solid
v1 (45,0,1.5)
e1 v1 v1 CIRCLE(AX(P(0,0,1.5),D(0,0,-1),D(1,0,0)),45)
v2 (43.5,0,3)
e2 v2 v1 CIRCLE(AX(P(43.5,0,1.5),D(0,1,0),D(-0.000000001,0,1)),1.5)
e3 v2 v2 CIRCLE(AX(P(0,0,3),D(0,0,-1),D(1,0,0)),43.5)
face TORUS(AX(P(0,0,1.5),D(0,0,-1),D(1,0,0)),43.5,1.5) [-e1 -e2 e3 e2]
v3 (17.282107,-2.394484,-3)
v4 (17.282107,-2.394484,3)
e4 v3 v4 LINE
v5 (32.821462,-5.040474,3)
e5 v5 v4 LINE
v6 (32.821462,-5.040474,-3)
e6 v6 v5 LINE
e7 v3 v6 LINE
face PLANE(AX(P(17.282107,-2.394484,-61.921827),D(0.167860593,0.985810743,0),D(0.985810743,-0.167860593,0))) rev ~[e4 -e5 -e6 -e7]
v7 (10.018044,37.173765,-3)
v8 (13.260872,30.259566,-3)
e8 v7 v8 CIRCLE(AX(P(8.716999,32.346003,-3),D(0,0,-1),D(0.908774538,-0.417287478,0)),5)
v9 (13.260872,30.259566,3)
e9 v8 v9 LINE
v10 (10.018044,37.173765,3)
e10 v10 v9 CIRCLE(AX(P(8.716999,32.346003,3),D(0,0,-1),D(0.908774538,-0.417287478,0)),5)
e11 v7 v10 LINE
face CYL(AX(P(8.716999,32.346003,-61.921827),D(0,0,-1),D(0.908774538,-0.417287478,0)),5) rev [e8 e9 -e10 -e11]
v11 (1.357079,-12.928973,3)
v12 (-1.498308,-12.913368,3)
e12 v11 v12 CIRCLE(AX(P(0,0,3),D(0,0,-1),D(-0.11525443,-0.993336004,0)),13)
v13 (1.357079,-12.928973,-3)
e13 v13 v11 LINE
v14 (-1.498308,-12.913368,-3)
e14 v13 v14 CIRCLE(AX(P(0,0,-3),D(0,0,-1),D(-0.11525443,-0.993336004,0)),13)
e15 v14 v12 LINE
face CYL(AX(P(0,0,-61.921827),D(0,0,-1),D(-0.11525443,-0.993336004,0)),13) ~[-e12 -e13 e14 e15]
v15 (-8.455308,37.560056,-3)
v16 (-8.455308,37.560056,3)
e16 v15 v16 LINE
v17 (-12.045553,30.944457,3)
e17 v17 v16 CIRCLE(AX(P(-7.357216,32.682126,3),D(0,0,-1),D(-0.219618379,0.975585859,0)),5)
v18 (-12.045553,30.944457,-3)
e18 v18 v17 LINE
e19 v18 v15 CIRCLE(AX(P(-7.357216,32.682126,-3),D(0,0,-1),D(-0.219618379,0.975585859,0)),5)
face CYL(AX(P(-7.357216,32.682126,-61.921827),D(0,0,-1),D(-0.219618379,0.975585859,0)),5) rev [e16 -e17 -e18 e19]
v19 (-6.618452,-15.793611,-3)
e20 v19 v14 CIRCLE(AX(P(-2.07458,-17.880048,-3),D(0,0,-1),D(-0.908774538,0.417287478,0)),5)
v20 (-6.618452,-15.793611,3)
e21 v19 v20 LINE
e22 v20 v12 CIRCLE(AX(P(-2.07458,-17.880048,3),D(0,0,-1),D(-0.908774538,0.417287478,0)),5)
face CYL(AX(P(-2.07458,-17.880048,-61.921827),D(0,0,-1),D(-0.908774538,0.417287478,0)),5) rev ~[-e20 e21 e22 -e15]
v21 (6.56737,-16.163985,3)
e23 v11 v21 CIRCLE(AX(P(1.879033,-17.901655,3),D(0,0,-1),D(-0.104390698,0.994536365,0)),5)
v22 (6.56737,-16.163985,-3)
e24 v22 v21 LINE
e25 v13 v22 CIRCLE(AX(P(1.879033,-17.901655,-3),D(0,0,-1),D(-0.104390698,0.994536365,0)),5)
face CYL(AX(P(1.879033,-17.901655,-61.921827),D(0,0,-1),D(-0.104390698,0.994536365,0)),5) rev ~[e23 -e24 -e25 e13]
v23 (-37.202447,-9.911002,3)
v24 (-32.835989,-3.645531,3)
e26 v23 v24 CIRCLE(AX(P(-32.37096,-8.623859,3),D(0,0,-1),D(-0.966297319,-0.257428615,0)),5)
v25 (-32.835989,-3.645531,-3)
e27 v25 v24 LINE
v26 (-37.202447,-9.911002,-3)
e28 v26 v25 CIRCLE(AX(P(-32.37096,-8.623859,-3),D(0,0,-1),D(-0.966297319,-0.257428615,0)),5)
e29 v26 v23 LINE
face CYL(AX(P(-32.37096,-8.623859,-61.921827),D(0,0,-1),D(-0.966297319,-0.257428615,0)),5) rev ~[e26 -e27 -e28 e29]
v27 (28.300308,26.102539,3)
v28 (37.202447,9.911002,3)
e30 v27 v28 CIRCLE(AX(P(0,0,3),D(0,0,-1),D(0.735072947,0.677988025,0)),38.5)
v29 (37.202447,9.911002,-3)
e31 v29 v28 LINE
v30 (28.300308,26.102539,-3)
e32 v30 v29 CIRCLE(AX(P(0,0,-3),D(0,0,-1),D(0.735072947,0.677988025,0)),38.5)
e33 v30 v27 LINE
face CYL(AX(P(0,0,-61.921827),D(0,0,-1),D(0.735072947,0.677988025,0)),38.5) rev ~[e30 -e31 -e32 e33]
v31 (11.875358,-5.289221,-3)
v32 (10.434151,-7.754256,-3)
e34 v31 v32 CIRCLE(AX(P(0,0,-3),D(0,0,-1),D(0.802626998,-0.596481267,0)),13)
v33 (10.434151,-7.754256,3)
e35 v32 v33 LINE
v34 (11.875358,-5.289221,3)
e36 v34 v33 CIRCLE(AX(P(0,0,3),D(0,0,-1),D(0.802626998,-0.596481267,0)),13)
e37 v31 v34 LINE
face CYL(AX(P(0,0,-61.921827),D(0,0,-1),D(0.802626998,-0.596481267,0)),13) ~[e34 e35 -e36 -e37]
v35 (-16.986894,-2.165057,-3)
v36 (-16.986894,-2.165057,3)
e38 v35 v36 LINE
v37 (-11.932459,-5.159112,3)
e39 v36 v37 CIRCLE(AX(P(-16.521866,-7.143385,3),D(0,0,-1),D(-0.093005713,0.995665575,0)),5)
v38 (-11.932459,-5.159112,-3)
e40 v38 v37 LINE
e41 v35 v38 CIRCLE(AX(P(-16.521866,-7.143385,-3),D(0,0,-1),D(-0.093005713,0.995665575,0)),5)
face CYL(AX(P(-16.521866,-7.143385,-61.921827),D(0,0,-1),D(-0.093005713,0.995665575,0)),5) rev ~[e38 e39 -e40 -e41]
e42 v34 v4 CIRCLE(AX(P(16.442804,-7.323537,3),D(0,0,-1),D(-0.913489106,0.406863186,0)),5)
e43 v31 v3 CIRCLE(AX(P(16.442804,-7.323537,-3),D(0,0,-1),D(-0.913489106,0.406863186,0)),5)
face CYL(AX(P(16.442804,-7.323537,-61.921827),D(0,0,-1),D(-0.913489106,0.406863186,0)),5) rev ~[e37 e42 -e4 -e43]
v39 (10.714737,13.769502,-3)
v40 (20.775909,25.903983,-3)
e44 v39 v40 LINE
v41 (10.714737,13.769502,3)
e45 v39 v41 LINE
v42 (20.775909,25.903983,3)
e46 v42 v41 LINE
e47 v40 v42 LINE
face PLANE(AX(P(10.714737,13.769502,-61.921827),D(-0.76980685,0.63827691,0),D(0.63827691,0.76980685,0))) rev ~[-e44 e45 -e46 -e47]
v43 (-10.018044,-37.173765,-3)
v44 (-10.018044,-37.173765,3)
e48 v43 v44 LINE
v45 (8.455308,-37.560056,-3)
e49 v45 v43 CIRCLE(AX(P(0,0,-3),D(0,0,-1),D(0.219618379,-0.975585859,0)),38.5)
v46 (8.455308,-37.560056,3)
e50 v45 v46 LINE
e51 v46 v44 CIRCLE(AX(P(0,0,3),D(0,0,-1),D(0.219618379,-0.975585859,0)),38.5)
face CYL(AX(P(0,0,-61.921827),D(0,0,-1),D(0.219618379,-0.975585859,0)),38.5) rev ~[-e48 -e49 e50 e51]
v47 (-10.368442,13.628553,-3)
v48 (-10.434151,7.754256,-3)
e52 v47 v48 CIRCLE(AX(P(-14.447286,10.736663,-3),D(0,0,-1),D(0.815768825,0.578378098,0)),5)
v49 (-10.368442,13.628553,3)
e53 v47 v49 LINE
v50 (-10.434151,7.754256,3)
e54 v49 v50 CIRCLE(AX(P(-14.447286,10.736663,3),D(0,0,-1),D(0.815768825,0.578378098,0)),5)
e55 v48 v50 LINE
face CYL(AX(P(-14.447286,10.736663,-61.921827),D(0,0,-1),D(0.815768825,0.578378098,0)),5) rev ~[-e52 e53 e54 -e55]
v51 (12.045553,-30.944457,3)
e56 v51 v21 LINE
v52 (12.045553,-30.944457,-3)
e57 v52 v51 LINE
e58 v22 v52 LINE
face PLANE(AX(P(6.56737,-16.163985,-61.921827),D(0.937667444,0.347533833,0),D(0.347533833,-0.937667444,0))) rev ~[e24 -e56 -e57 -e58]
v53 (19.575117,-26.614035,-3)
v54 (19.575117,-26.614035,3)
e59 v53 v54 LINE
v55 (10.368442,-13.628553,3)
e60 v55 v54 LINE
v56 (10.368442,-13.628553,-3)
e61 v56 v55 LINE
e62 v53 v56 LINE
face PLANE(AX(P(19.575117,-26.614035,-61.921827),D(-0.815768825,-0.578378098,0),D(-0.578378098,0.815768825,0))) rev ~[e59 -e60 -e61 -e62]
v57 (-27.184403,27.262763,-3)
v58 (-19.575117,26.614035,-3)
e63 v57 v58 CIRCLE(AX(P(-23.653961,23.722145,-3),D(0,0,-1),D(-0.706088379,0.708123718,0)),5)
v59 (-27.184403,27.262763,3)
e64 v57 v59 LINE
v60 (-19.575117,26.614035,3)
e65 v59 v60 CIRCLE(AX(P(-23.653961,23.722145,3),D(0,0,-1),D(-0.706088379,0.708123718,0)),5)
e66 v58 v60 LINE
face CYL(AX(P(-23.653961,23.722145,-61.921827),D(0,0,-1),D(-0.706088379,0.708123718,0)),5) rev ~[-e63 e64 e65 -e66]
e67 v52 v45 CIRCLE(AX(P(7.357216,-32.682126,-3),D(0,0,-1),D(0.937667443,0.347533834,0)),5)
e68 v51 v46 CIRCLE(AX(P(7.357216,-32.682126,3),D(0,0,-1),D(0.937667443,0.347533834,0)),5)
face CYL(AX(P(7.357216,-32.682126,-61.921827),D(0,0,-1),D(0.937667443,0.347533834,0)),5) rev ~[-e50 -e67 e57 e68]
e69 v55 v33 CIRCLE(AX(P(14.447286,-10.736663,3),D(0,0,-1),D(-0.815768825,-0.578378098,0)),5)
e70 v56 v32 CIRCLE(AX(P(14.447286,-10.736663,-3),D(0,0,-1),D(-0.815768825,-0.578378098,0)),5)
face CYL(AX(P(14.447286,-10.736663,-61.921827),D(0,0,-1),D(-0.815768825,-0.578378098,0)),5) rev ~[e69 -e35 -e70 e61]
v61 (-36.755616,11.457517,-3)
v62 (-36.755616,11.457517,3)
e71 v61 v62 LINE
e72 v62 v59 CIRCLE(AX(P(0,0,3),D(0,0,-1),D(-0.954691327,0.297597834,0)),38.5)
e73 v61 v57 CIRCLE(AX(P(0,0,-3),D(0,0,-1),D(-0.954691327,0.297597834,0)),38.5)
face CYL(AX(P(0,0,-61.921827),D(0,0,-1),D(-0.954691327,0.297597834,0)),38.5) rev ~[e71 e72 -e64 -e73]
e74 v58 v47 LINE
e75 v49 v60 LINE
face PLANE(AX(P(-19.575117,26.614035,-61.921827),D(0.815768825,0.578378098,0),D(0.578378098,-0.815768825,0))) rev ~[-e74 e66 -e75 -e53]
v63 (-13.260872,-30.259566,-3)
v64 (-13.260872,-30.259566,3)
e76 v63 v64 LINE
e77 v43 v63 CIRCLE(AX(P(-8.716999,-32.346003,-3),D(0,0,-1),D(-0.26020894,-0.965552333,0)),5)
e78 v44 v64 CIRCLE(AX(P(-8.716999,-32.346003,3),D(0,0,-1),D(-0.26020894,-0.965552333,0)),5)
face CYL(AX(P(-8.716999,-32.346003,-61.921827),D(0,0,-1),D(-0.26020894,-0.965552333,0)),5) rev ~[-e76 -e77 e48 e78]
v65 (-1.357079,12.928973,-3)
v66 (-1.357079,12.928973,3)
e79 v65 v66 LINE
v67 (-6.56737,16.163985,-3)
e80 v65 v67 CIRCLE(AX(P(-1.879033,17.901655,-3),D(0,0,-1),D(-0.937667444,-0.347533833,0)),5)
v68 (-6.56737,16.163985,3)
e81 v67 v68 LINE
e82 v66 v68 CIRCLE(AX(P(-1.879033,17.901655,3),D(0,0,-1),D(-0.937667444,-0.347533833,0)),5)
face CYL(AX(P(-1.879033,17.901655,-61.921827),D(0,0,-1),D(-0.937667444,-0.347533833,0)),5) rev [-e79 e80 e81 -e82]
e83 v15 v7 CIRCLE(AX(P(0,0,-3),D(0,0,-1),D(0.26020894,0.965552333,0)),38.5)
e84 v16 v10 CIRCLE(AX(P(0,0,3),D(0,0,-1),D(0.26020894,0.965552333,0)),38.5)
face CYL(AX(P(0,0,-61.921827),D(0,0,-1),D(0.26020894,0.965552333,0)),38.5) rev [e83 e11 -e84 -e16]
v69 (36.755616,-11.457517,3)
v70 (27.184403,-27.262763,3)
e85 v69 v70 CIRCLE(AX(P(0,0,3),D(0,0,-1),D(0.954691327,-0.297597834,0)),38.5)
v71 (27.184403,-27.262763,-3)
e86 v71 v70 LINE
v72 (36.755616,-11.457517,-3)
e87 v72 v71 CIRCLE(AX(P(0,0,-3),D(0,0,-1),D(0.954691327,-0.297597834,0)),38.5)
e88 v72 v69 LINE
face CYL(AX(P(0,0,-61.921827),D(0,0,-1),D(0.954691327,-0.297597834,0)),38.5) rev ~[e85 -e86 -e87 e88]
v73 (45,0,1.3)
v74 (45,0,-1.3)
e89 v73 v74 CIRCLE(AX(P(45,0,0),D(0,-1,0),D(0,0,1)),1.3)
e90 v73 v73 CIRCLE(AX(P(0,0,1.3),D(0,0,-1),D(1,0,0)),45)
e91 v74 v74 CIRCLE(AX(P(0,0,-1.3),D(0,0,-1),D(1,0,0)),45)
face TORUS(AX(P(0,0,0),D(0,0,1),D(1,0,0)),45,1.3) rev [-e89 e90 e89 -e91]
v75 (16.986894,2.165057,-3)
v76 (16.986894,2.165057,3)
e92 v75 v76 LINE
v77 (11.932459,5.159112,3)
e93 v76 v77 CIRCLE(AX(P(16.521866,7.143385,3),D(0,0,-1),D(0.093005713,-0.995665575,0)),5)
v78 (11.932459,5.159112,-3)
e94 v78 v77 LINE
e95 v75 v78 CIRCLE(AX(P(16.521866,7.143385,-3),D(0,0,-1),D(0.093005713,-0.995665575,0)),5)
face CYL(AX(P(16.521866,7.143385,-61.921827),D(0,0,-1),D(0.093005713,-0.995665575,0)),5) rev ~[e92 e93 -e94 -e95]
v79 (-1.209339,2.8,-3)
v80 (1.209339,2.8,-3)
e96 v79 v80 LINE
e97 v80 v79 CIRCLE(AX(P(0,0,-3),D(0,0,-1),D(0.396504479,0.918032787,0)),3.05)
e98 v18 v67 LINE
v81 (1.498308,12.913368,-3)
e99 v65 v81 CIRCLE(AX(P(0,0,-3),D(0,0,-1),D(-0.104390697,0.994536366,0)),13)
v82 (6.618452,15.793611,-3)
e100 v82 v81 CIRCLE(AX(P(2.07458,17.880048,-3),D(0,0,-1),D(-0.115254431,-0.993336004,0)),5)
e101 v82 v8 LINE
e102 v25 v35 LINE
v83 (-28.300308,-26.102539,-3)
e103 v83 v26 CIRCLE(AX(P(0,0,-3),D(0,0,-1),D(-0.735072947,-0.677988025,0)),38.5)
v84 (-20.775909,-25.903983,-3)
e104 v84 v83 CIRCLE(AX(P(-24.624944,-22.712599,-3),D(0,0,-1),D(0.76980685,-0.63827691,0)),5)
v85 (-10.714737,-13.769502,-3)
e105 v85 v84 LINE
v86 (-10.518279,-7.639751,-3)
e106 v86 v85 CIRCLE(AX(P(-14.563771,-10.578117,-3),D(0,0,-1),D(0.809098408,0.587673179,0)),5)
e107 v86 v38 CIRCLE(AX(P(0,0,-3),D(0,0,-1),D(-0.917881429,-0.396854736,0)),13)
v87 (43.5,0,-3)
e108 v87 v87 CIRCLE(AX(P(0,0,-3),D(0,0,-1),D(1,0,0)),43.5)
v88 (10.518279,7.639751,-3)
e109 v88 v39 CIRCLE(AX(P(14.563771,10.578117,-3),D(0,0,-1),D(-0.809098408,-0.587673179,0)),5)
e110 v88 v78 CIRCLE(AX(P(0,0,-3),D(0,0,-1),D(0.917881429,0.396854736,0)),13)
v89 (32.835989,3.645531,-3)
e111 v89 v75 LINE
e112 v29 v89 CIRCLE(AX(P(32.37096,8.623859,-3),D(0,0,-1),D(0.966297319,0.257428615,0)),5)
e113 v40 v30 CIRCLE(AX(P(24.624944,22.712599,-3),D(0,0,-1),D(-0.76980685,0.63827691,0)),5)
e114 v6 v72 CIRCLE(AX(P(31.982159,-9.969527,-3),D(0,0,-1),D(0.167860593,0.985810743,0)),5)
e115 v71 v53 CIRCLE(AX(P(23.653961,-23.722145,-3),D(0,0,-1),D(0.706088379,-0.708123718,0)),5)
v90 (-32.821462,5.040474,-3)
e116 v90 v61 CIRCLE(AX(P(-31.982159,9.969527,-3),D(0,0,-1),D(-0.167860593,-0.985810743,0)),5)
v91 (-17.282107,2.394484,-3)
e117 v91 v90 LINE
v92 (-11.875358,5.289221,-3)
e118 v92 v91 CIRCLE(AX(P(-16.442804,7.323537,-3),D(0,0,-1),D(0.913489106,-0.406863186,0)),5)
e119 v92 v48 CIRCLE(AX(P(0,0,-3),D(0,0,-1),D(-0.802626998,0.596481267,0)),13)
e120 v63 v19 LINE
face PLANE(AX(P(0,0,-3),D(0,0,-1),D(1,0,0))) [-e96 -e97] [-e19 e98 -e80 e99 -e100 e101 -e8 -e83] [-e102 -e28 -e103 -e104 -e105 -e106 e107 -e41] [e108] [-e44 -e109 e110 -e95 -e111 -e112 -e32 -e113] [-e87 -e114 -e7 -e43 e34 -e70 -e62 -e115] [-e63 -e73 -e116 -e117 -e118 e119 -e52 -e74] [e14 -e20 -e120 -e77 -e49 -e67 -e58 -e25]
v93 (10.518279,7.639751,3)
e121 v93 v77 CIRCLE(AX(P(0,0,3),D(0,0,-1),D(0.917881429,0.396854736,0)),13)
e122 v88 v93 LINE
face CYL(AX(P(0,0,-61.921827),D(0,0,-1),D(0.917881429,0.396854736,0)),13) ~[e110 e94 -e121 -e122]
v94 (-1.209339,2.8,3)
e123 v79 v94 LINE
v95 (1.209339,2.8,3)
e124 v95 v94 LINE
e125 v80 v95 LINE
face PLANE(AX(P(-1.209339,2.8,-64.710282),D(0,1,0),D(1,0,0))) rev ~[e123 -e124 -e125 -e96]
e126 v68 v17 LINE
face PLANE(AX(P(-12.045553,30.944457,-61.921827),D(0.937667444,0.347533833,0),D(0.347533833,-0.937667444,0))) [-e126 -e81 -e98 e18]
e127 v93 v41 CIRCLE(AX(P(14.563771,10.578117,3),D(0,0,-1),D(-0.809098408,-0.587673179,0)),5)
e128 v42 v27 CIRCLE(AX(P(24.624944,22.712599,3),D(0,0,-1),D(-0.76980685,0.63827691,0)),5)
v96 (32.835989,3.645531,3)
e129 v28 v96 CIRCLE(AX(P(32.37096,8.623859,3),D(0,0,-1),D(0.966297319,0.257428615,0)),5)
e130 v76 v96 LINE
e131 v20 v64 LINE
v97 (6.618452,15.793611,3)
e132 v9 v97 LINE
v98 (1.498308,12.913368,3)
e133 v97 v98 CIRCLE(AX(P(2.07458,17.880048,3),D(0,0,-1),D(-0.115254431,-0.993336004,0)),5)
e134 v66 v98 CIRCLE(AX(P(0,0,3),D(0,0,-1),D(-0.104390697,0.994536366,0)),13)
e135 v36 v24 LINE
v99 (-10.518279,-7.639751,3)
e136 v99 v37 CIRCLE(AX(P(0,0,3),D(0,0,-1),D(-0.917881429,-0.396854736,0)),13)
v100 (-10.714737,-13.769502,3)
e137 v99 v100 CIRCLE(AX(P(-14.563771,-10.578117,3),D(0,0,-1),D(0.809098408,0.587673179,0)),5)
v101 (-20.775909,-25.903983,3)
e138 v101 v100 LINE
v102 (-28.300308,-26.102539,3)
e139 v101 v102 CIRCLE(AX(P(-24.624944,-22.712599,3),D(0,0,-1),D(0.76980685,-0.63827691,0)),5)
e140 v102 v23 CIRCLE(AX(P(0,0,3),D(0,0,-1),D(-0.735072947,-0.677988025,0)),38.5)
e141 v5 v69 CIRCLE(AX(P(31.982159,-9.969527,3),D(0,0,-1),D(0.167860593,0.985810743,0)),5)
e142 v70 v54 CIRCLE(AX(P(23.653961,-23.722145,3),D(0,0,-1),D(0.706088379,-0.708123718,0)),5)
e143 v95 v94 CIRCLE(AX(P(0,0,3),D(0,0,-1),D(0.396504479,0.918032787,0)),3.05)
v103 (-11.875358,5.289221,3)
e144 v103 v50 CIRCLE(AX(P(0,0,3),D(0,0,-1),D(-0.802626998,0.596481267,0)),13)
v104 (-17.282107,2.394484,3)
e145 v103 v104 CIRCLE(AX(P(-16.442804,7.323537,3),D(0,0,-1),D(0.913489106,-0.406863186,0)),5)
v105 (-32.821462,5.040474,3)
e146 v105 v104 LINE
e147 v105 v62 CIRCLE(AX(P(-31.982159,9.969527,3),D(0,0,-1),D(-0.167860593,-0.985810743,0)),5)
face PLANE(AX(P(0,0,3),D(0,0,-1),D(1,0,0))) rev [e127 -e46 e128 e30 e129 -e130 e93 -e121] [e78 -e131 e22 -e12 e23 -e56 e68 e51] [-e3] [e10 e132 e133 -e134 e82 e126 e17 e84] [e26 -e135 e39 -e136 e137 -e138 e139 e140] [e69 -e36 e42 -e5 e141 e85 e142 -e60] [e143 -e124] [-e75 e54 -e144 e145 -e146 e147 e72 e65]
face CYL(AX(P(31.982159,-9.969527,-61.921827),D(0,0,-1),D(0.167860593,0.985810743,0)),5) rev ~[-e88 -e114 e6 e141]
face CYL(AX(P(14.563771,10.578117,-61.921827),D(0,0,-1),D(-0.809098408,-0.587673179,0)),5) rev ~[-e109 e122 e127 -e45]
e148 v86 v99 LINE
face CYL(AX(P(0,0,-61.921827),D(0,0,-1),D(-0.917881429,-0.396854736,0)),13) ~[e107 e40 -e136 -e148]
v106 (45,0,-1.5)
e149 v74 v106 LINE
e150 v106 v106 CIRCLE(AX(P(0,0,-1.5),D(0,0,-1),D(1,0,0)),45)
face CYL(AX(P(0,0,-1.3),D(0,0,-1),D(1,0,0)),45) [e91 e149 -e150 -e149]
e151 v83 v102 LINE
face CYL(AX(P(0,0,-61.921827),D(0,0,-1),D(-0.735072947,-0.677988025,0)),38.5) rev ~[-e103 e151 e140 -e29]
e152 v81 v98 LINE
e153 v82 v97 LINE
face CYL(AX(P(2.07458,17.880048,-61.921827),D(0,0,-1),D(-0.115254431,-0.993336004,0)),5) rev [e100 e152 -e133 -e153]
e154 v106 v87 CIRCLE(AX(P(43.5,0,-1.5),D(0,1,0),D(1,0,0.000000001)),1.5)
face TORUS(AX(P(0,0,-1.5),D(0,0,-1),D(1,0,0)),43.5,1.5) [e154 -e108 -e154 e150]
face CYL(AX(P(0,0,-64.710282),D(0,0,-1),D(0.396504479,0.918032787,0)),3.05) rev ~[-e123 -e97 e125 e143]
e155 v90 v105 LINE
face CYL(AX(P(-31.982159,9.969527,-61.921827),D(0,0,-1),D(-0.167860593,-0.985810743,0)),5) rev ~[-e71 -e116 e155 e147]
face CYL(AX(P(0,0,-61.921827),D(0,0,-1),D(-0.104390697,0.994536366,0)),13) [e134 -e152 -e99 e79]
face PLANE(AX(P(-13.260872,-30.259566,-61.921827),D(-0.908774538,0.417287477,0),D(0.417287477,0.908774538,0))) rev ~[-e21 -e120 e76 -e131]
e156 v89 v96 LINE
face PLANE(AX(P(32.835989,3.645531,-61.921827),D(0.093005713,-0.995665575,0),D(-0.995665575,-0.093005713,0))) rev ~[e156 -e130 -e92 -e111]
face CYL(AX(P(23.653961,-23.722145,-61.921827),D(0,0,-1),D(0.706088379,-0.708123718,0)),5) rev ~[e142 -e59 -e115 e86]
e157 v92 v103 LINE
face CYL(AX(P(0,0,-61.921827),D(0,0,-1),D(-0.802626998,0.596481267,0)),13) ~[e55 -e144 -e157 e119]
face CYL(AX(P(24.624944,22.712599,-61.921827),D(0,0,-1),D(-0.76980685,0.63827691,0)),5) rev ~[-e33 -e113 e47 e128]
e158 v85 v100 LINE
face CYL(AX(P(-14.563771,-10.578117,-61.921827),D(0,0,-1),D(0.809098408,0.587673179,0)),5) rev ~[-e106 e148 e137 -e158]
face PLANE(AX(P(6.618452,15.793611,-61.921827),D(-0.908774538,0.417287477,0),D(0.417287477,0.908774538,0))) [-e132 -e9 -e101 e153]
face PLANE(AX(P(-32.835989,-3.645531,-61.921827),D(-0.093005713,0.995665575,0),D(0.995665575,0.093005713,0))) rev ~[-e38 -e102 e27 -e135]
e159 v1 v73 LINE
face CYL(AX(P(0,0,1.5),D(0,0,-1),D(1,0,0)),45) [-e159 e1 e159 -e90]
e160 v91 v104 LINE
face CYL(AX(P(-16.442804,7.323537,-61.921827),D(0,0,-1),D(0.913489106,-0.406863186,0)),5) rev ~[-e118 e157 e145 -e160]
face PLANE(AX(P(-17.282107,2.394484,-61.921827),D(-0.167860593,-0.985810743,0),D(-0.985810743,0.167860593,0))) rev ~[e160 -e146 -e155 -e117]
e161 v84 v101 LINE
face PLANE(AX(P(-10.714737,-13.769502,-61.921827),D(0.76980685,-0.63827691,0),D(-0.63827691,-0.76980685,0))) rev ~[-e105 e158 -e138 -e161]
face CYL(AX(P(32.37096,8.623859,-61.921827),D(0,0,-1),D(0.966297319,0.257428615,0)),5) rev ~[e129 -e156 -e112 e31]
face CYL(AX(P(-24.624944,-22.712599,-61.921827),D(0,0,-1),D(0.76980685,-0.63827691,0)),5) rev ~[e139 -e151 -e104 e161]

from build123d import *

# Parameters (mm, degrees)
ENL_V_MAT_EXTRU_3_DEPTH      = 64.710281815
ENL_V_MAT_EXTRU_3_DEPTH_BACK = 64.710281815
ENL_V_MAT_EXTRU_8_DEPTH      = 64.921827328
ENL_V_MAT_EXTRU_8_DEPTH_BACK = 64.921827328


with BuildPart() as part:
    # Esquisse2 → Révolution1 (revolve)
    with BuildSketch(Plane(origin=(0, 0, 0), x_dir=(0, 0, -1), z_dir=(1, 0, 0)), mode=Mode.PRIVATE) as r_volution1_sk:
        with BuildLine():
            Line((3, 0), (-3, 0))
            Line((-3, 0), (-3, 43.5))
            ThreePointArc((-3, 43.5), (-2.560660172, 44.560660172), (-1.5, 45))
            Line((-1.5, 45), (-1.3, 45))
            ThreePointArc((-1.3, 45), (0, 43.7), (1.3, 45))
            Line((1.3, 45), (1.5, 45))
            ThreePointArc((1.5, 45), (2.560660172, 44.560660172), (3, 43.5))
            Line((3, 43.5), (3, 0))
        make_face()
    revolve(r_volution1_sk.sketch.rotate(Axis((0, 0, 77.254476924), (0, 0, -1)), 90), axis=Axis((0, 0, 77.254476924), (0, 0, -1)))

    # Esquisse3 → Enlèv. mat.-Extru.3 (cut, two sides: drawn at the far end of the back side and taken through both)
    with BuildSketch(Plane.XY.offset(-ENL_V_MAT_EXTRU_3_DEPTH_BACK)):
        with BuildLine():
            Line((-1.209338662, 2.8), (1.209338662, 2.8))
            ThreePointArc((1.209338662, 2.8), (0, -3.05), (-1.209338662, 2.8))
        make_face()
    extrude(amount=ENL_V_MAT_EXTRU_3_DEPTH + ENL_V_MAT_EXTRU_3_DEPTH_BACK, mode=Mode.SUBTRACT)

    # Esquisse5 → Enlèv. mat.-Extru.8 (cut, two sides: drawn at the far end of the back side and taken through both)
    with BuildSketch(Plane.XY.offset(3).offset(-ENL_V_MAT_EXTRU_8_DEPTH_BACK)):
        with BuildLine():
            ThreePointArc((-10.434150973, 7.754256475), (-11.222640125, 6.561428855), (-11.875358384, 5.289221422))
            ThreePointArc((-11.875358384, 5.289221422), (-14.082795768, 2.915548976), (-17.282106883, 2.394483639))
            Line((-17.282106883, 2.394483639), (-32.821462414, 5.040473711))
            ThreePointArc((-32.821462414, 5.040473711), (-36.244832016, 7.356172767), (-36.755616081, 11.457516594))
            ThreePointArc((-36.755616081, 11.457516594), (-32.932247903, 19.942844532), (-27.184402598, 27.262763165))
            ThreePointArc((-27.184402598, 27.262763165), (-23.229227503, 28.704072082), (-19.575116576, 26.61403506))
            Line((-19.575116576, 26.61403506), (-10.368441836, 13.6285533))
            ThreePointArc((-10.368441836, 13.6285533), (-9.447598742, 10.680736947), (-10.434150973, 7.754256475))
        make_face()
        with BuildLine():
            ThreePointArc((-11.932458581, -5.159111572), (-11.293684136, -6.438377019), (-10.51827931, -7.639751328))
            ThreePointArc((-10.51827931, -7.639751328), (-9.566337363, -10.738284404), (-10.714737101, -13.769501772))
            Line((-10.714737101, -13.769501772), (-20.775909487, -25.903983384))
            ThreePointArc((-20.775909487, -25.903983384), (-24.493048499, -27.710858898), (-28.300308475, -26.102538961))
            ThreePointArc((-28.300308475, -26.102538961), (-33.73713394, -18.548741022), (-37.202446777, -9.911001654))
            ThreePointArc((-37.202446777, -9.911001654), (-36.473069367, -5.765065087), (-32.835988747, -3.645530707))
            Line((-32.835988747, -3.645530707), (-16.986894292, -2.165057378))
            ThreePointArc((-16.986894292, -2.165057378), (-13.973588898, -2.841492042), (-11.932458581, -5.159111572))
        make_face()
        with BuildLine():
            ThreePointArc((-1.498307609, -12.913368047), (-0.071044011, -12.999805873), (1.357079074, -12.928972751))
            ThreePointArc((1.357079074, -12.928972751), (4.516458405, -13.65383338), (6.567369781, -16.163985411))
            Line((6.567369781, -16.163985411), (12.045552926, -30.944457095))
            ThreePointArc((12.045552926, -30.944457095), (11.751783517, -35.067031665), (8.455307606, -37.560055555))
            ThreePointArc((8.455307606, -37.560055555), (-0.804886037, -38.491585554), (-10.018044179, -37.173764819))
            ThreePointArc((-10.018044179, -37.173764819), (-13.243841863, -34.469137169), (-13.260872171, -30.259565767))
            Line((-13.260872171, -30.259565767), (-6.618452456, -15.793610677))
            ThreePointArc((-6.618452456, -15.793610677), (-4.525990156, -13.522228989), (-1.498307609, -12.913368047))
        make_face()
        with BuildLine():
            ThreePointArc((10.434150973, -7.754256475), (11.222640125, -6.561428855), (11.875358384, -5.289221422))
            ThreePointArc((11.875358384, -5.289221422), (14.082795768, -2.915548976), (17.282106883, -2.394483639))
            Line((17.282106883, -2.394483639), (32.821462414, -5.040473711))
            ThreePointArc((32.821462414, -5.040473711), (36.244832016, -7.356172767), (36.755616081, -11.457516594))
            ThreePointArc((36.755616081, -11.457516594), (32.932247903, -19.942844532), (27.184402598, -27.262763165))
            ThreePointArc((27.184402598, -27.262763165), (23.229227503, -28.704072082), (19.575116576, -26.61403506))
            Line((19.575116576, -26.61403506), (10.368441836, -13.6285533))
            ThreePointArc((10.368441836, -13.6285533), (9.447598742, -10.680736947), (10.434150973, -7.754256475))
        make_face()
        with BuildLine():
            ThreePointArc((11.932458581, 5.159111572), (11.293684136, 6.438377019), (10.51827931, 7.639751328))
            ThreePointArc((10.51827931, 7.639751328), (9.566337363, 10.738284404), (10.714737101, 13.769501772))
            Line((10.714737101, 13.769501772), (20.775909487, 25.903983384))
            ThreePointArc((20.775909487, 25.903983384), (24.493048499, 27.710858898), (28.300308475, 26.102538961))
            ThreePointArc((28.300308475, 26.102538961), (33.73713394, 18.548741022), (37.202446777, 9.911001654))
            ThreePointArc((37.202446777, 9.911001654), (36.473069367, 5.765065087), (32.835988747, 3.645530707))
            Line((32.835988747, 3.645530707), (16.986894292, 2.165057378))
            ThreePointArc((16.986894292, 2.165057378), (13.973588898, 2.841492042), (11.932458581, 5.159111572))
        make_face()
        with BuildLine():
            Line((-12.045552926, 30.944457095), (-6.567369781, 16.163985411))
            ThreePointArc((-6.567369781, 16.163985411), (-4.516458405, 13.65383338), (-1.357079074, 12.928972751))
            ThreePointArc((-1.357079074, 12.928972751), (0.071044011, 12.999805873), (1.498307609, 12.913368047))
            ThreePointArc((1.498307609, 12.913368047), (4.525990156, 13.522228989), (6.618452456, 15.793610677))
            Line((6.618452456, 15.793610677), (13.260872171, 30.259565767))
            ThreePointArc((13.260872171, 30.259565767), (13.243841863, 34.469137169), (10.018044179, 37.173764819))
            ThreePointArc((10.018044179, 37.173764819), (0.804886037, 38.491585554), (-8.455307606, 37.560055555))
            ThreePointArc((-8.455307606, 37.560055555), (-11.751783517, 35.067031665), (-12.045552926, 30.944457095))
        make_face()
    extrude(amount=ENL_V_MAT_EXTRU_8_DEPTH + ENL_V_MAT_EXTRU_8_DEPTH_BACK, mode=Mode.SUBTRACT)


solid = part.part
